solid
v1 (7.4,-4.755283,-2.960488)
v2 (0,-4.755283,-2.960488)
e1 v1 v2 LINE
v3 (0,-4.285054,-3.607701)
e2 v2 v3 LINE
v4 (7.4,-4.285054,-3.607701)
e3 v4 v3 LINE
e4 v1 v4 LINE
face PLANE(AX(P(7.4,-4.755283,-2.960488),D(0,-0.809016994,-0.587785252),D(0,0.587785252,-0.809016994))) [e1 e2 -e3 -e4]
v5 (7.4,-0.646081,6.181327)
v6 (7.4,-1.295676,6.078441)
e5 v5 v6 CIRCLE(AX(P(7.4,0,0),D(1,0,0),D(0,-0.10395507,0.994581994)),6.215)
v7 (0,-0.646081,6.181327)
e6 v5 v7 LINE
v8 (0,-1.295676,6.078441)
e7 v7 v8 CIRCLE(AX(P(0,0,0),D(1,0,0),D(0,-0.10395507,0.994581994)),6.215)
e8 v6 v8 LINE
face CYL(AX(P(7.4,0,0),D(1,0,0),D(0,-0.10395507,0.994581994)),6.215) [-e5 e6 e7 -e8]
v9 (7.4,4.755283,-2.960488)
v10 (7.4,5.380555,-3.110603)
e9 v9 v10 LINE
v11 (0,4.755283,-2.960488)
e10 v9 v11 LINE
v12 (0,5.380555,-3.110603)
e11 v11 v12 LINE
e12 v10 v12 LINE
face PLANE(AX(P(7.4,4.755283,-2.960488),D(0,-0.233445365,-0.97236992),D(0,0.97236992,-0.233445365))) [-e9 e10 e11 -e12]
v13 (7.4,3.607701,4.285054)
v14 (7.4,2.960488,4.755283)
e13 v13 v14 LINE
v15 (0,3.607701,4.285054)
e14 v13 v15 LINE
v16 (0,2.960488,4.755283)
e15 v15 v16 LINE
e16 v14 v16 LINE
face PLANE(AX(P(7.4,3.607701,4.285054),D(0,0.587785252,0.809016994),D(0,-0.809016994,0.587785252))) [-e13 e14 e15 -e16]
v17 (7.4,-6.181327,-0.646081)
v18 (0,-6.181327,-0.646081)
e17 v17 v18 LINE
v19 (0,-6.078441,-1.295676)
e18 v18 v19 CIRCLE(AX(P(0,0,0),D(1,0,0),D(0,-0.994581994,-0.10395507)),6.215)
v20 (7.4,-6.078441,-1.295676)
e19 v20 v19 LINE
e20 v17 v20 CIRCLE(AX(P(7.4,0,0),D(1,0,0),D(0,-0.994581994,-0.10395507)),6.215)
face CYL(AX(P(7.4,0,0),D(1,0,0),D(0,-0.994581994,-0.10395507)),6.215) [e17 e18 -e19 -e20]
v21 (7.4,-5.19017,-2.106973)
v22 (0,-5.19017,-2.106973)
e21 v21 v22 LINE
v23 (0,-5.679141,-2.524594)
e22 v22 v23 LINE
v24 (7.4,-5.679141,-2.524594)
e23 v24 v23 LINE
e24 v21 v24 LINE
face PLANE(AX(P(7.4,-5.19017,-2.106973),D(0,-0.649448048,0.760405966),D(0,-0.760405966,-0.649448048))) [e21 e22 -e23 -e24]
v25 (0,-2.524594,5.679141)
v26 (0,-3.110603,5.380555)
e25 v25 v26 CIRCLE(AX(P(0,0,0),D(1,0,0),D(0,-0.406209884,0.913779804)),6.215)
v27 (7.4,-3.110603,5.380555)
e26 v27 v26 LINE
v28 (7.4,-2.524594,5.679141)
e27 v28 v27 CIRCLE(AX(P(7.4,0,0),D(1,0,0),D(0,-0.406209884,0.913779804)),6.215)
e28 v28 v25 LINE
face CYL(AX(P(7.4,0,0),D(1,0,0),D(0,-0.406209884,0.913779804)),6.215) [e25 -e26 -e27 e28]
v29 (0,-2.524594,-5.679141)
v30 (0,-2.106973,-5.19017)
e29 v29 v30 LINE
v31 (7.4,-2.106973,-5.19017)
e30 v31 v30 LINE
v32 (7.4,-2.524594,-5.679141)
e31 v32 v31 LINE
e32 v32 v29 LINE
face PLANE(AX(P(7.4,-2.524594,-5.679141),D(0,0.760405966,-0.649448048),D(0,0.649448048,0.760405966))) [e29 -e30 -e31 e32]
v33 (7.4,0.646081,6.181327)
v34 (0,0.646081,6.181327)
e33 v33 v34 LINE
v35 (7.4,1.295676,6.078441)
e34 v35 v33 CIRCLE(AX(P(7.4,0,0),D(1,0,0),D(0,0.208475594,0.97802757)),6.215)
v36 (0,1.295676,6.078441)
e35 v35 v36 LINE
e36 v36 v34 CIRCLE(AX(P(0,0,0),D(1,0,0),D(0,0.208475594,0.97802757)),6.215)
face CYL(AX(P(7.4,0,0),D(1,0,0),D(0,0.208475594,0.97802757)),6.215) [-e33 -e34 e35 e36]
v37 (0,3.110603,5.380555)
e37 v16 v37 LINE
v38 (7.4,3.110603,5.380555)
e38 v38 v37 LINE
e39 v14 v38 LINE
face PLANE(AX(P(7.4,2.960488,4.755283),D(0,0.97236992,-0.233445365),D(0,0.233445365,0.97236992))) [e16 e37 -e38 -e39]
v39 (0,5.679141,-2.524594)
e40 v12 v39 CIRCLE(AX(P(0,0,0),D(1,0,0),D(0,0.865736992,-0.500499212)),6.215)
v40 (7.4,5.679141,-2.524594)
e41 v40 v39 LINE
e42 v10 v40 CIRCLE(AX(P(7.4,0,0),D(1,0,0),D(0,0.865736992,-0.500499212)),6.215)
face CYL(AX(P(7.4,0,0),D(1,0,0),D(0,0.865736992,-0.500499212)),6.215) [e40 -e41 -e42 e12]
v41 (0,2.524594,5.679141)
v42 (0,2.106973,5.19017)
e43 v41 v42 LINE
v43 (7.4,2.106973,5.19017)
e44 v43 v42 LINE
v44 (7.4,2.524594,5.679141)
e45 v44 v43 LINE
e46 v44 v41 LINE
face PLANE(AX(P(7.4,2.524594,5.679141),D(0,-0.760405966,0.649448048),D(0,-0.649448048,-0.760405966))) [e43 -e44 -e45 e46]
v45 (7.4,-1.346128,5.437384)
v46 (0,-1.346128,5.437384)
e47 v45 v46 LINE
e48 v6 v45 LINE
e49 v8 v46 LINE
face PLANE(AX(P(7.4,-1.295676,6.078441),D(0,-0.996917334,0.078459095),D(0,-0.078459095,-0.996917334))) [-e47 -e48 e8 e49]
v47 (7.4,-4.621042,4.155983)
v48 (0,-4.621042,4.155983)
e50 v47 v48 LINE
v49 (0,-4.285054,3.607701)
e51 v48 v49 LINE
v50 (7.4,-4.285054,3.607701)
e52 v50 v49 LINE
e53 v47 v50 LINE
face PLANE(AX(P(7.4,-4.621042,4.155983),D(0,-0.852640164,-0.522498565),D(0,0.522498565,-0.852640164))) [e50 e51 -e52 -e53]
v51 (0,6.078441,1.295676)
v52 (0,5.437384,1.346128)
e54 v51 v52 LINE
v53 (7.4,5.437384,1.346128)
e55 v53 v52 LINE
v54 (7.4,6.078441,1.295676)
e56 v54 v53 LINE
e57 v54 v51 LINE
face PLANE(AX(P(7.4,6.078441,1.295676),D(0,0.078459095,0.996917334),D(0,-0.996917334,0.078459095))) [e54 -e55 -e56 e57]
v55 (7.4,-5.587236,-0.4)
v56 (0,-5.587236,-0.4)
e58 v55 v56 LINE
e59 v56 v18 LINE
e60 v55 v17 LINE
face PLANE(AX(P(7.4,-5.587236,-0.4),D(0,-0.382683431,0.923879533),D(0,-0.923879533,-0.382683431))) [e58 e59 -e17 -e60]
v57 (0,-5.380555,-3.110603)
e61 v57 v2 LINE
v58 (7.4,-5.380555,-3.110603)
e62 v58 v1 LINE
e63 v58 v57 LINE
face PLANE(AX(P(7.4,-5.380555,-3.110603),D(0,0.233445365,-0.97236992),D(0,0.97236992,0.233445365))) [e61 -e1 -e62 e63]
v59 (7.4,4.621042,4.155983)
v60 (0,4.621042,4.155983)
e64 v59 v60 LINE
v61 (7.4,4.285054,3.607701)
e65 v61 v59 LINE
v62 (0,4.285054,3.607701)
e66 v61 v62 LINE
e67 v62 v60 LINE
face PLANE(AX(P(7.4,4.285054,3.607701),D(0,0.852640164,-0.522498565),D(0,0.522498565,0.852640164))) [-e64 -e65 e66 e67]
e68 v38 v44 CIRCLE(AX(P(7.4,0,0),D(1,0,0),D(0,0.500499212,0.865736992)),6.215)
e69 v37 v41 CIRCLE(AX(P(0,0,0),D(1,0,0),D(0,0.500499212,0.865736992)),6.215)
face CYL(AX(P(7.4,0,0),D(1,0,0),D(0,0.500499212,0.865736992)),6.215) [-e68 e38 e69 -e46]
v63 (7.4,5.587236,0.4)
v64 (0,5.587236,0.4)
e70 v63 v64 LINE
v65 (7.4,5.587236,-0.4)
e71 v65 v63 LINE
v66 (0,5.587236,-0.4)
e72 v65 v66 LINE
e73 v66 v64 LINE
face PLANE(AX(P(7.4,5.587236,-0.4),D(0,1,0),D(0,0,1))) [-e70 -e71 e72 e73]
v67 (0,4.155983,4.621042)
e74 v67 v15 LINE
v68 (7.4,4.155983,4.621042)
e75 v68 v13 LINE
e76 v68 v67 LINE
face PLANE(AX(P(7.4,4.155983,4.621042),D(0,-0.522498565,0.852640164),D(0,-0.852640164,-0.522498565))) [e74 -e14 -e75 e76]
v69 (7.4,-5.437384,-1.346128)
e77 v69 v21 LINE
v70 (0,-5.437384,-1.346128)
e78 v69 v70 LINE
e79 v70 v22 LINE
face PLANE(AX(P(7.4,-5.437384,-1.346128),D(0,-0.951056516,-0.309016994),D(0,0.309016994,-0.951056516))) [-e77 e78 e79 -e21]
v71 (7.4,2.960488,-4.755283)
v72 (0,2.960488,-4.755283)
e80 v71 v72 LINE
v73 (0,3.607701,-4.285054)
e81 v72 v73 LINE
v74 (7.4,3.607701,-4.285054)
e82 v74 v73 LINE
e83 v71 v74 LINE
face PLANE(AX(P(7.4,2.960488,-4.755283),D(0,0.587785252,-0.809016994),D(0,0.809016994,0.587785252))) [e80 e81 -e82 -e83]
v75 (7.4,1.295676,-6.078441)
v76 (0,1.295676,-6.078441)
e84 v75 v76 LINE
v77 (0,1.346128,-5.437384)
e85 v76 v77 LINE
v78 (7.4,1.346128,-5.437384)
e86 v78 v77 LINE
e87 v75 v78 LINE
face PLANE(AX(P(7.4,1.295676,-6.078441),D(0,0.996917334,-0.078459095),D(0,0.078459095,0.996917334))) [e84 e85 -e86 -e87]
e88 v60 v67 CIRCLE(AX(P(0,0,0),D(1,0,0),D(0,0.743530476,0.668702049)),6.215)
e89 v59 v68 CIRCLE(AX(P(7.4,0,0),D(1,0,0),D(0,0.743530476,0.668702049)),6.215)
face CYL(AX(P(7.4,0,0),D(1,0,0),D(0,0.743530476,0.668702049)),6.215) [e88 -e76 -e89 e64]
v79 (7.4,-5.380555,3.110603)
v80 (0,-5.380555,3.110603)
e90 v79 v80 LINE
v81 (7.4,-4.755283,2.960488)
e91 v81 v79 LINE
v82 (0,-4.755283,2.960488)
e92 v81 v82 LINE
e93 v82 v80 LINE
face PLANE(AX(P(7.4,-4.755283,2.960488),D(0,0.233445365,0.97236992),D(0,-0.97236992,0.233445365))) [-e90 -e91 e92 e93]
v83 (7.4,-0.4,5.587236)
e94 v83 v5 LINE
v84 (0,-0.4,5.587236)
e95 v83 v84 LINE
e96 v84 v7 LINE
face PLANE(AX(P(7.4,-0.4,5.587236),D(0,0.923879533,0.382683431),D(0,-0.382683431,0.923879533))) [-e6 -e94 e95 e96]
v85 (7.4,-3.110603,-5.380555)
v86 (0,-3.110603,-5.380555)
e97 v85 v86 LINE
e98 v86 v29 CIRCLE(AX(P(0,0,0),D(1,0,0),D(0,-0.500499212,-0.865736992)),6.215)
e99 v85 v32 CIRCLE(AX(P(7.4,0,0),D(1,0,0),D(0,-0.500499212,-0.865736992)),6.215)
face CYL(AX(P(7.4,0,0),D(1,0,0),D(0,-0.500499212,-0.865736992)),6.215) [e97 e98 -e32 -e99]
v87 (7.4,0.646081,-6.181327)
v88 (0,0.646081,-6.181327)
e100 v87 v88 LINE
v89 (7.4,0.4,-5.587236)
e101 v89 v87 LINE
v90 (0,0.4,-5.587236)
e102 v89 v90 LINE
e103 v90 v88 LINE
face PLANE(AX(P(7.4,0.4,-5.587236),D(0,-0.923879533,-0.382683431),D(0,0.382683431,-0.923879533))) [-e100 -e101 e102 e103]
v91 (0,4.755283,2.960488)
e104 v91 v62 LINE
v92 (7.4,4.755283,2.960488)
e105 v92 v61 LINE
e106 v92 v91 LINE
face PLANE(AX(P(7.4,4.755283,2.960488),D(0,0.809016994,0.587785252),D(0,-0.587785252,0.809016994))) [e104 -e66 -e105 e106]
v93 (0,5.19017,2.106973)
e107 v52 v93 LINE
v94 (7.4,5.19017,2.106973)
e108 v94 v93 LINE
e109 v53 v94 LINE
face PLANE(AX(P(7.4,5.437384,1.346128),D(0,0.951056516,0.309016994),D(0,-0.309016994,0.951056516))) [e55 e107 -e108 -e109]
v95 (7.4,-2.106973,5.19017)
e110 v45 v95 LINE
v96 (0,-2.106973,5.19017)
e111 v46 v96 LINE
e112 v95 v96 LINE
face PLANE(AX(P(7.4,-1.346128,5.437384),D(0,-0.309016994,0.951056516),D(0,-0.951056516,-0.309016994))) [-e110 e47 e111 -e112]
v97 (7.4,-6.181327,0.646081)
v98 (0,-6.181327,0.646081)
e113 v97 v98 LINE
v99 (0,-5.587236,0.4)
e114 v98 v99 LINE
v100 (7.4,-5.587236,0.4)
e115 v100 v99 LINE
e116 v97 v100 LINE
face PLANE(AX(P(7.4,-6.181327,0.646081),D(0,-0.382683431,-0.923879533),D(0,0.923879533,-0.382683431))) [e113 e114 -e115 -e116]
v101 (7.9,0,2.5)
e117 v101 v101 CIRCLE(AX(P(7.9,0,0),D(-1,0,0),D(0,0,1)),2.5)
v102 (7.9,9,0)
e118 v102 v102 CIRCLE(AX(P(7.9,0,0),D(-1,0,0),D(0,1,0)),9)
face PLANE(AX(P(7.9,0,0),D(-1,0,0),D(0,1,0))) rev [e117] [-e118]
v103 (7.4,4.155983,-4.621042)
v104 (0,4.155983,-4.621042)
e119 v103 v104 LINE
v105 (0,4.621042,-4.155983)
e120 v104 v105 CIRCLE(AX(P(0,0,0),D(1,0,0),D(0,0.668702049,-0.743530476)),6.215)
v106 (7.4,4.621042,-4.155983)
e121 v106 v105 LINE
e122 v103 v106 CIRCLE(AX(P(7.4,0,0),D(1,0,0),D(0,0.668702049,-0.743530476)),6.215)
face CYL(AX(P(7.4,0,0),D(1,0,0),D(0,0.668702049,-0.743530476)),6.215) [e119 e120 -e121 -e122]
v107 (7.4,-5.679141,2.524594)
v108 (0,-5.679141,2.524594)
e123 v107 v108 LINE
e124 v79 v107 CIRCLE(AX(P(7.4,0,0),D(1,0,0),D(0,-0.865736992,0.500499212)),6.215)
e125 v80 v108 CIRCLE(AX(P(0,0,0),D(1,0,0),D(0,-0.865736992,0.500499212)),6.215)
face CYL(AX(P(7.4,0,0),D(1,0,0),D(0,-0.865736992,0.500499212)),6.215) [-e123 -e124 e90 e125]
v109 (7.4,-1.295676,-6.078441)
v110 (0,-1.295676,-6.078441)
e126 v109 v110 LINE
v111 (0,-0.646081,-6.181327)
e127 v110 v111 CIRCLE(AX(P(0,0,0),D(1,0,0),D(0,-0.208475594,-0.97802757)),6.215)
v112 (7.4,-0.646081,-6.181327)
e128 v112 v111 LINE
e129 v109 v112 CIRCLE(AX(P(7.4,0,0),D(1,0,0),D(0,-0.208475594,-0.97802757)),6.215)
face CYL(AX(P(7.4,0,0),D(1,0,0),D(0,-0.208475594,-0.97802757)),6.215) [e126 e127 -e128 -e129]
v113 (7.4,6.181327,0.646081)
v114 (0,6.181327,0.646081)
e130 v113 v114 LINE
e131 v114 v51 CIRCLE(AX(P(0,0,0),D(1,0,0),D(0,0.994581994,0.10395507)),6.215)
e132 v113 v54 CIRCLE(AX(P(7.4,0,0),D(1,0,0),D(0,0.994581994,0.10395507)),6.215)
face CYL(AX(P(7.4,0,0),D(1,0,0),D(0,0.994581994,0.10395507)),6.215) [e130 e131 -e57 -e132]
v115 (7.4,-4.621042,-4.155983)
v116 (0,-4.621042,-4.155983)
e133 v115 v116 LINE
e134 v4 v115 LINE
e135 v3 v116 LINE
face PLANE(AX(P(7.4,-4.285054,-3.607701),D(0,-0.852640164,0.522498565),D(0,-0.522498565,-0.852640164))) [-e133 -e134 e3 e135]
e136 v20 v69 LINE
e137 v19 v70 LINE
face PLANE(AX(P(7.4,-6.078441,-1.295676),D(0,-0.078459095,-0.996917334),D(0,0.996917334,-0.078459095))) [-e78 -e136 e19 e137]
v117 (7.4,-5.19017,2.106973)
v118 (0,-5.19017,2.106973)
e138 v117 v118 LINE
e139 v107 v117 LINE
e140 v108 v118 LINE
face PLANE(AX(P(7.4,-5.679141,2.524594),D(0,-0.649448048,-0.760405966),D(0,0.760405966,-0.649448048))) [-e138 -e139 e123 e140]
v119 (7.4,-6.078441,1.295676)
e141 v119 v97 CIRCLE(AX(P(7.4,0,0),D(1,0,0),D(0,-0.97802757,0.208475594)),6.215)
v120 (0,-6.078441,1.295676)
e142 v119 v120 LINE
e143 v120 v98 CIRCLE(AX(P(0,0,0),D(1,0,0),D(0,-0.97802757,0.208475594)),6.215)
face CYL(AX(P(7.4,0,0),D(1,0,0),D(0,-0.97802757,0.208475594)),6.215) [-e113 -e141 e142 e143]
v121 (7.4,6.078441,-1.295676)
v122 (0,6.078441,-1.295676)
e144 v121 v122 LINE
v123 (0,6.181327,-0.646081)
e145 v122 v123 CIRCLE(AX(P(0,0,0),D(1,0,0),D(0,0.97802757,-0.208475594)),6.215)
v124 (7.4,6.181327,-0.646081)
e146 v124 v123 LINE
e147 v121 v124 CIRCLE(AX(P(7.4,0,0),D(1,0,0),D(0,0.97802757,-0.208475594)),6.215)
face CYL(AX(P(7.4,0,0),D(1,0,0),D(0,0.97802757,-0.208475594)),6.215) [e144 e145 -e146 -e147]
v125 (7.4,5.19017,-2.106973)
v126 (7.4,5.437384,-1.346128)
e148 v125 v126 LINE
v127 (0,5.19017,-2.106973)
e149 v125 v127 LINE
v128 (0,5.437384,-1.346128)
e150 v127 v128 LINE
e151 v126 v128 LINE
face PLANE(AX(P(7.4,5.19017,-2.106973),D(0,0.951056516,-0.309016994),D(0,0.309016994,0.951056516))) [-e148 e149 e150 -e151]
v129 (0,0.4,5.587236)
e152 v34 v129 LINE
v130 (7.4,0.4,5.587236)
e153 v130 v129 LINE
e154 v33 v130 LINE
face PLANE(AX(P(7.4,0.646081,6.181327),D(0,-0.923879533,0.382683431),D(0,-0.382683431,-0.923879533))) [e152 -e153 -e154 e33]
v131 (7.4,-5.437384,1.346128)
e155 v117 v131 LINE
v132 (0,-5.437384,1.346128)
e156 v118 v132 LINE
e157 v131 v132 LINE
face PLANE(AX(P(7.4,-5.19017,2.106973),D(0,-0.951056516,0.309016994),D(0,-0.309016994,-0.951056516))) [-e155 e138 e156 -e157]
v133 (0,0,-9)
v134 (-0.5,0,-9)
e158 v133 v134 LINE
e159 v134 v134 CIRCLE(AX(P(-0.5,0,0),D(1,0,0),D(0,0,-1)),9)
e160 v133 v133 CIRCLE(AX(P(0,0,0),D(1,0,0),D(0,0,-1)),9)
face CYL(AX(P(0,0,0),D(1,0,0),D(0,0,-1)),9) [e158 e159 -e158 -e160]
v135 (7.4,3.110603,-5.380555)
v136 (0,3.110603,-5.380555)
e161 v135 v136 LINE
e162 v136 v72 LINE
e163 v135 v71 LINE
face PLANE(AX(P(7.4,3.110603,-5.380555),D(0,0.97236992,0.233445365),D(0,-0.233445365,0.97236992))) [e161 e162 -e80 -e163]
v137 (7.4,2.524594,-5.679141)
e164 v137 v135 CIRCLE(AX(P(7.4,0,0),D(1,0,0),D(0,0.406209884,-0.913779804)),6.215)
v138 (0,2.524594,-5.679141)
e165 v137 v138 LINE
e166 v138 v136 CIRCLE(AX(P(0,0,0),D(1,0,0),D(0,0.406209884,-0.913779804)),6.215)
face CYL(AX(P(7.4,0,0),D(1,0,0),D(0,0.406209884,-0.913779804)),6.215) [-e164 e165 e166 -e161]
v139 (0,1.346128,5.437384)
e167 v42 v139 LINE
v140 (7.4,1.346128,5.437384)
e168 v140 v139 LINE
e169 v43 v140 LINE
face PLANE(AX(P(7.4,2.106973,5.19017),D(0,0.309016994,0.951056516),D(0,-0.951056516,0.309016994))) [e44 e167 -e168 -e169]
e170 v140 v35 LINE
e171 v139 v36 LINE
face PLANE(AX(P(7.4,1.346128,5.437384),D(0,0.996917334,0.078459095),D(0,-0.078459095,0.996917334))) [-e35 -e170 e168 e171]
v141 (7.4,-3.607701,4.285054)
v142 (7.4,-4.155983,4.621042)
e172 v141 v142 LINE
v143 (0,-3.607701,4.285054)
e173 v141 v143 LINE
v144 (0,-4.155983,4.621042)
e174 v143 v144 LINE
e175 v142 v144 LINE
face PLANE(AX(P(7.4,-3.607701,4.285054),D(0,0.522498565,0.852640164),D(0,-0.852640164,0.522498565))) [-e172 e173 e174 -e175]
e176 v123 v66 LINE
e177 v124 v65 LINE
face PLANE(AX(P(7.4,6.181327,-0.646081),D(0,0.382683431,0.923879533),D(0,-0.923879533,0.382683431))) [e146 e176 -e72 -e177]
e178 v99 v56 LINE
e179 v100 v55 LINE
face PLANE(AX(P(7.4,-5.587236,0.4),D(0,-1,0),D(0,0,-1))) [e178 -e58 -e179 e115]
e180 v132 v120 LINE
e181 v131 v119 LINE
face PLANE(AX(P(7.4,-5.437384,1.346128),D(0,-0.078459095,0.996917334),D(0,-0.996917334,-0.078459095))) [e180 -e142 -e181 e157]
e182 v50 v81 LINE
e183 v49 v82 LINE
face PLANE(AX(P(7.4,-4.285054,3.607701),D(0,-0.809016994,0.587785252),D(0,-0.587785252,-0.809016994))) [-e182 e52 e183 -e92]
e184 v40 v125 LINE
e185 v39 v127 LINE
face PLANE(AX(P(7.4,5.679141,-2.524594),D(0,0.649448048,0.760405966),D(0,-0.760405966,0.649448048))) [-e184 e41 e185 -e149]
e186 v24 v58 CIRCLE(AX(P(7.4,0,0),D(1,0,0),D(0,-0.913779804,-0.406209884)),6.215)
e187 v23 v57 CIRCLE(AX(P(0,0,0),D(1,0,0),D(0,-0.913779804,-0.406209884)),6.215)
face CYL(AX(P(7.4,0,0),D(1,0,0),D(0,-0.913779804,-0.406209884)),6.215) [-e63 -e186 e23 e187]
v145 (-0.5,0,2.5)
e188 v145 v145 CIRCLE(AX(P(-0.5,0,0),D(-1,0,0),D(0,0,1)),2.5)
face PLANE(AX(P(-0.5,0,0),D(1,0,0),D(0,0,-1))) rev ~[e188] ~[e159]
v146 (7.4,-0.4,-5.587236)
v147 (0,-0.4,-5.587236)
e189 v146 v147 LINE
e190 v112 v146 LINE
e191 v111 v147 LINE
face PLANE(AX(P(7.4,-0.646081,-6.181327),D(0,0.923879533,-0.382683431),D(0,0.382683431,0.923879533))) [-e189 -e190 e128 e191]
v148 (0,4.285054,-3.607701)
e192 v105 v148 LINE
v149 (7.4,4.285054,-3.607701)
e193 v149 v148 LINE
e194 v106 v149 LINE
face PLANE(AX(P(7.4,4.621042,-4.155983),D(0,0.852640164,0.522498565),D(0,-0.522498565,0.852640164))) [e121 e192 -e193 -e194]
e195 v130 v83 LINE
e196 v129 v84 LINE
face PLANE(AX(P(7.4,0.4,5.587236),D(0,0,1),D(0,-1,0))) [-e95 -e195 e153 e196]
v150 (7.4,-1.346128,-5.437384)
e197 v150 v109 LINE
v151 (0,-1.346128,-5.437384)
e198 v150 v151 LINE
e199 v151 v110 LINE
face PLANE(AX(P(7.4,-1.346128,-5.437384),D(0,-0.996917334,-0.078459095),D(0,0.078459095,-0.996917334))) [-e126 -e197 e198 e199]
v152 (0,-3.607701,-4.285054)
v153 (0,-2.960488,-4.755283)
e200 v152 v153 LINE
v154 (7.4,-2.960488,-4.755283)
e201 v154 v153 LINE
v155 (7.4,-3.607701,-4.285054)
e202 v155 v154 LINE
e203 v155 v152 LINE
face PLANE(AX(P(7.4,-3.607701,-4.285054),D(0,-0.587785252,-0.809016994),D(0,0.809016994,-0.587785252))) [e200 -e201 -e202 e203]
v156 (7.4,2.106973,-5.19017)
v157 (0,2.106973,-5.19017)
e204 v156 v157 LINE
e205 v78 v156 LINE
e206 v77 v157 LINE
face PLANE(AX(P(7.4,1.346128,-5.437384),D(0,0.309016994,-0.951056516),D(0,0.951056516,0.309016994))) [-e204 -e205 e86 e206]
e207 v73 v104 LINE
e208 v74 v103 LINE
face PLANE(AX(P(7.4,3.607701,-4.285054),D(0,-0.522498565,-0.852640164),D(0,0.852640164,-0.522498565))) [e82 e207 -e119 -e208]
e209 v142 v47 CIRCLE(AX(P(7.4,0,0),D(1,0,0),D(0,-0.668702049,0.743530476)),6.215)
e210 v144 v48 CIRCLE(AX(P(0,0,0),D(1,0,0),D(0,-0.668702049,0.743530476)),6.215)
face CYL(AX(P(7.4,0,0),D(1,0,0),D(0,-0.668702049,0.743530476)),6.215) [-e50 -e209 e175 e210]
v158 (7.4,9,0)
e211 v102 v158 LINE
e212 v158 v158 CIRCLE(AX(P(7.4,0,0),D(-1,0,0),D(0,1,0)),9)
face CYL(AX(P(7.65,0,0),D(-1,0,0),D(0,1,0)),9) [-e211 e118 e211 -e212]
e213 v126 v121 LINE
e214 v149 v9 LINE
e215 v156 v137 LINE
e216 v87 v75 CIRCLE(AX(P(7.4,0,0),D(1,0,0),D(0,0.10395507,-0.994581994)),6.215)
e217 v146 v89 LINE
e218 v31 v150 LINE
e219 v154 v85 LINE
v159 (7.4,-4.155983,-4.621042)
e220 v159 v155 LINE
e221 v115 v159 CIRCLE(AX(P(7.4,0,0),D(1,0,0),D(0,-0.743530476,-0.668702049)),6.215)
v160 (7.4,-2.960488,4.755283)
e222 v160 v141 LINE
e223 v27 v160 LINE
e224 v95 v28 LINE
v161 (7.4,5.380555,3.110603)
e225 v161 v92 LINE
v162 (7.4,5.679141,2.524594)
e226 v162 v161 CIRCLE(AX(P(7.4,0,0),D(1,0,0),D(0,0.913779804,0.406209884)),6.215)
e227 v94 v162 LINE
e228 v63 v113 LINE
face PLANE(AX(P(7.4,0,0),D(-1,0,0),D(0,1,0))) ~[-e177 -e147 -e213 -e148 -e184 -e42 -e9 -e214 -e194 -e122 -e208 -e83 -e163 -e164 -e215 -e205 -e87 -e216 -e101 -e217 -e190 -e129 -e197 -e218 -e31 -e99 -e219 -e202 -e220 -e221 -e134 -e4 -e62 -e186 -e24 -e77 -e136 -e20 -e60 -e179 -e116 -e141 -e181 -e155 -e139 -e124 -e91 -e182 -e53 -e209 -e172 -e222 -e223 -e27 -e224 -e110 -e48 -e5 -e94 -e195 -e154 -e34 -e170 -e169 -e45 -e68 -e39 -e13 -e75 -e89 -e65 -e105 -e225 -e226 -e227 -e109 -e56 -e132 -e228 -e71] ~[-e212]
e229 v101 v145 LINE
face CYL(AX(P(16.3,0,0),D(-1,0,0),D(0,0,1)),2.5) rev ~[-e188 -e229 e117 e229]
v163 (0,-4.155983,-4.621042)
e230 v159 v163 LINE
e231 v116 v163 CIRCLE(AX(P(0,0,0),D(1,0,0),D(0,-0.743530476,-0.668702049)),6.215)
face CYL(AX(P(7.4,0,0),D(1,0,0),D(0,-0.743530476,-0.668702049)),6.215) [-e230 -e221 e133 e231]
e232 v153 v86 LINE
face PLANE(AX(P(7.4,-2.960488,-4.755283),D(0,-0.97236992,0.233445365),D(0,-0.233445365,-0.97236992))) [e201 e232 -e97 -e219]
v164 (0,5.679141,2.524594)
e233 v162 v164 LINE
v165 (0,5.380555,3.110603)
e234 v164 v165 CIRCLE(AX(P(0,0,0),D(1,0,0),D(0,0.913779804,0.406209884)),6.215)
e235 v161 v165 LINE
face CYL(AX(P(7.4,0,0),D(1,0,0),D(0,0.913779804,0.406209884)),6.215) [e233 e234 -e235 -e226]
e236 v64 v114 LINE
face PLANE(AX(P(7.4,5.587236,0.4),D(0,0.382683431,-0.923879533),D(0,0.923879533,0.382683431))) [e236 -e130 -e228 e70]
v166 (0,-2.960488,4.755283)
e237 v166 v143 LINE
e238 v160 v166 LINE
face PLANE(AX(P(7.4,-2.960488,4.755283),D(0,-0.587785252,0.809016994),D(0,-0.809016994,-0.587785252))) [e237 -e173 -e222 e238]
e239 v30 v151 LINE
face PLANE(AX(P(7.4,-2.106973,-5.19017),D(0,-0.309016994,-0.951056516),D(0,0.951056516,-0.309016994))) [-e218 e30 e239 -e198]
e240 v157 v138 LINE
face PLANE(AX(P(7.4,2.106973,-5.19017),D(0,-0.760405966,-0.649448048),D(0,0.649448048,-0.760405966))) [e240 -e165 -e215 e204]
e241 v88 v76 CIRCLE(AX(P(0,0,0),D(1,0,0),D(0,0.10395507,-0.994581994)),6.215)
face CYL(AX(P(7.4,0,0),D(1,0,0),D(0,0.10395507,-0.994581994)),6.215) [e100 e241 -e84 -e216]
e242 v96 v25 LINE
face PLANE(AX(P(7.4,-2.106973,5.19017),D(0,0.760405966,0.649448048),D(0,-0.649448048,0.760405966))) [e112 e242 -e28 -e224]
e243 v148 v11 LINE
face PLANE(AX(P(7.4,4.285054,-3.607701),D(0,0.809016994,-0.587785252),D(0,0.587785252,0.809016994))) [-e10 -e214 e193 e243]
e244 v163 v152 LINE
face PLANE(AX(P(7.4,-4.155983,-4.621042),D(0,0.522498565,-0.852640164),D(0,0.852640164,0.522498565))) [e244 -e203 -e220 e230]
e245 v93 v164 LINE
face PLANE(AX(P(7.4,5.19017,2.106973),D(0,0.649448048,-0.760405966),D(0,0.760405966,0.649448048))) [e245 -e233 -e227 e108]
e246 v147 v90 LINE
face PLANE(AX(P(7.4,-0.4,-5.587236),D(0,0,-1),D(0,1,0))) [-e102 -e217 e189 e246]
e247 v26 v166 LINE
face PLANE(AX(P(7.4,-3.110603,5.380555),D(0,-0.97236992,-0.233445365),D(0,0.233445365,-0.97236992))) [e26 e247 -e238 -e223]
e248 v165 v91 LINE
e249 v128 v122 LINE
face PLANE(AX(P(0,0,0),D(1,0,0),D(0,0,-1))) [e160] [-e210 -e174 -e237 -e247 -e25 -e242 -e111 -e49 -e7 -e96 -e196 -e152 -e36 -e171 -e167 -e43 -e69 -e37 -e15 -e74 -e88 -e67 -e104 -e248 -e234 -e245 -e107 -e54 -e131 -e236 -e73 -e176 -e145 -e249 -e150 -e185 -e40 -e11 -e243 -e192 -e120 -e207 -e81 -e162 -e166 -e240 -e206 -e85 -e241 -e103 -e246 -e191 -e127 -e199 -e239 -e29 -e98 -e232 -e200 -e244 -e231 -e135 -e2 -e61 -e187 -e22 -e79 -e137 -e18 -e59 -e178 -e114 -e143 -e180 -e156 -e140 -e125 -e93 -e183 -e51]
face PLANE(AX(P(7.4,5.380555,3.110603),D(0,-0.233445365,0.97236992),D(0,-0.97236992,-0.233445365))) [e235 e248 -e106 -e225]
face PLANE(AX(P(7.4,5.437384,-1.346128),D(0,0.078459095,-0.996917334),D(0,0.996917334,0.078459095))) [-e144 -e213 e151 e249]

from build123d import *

# Parameters (mm, degrees)
SKETCH1_W                    = 0.5
SKETCH1_H                    = 9
BOSS_EXTRUDE1_DEPTH          = 7.4
SKETCH3_R                    = 9
BOSS_EXTRUDE2_DEPTH          = 0.5
F_5_0_5_DIAMETER_HOLE1_D     = 5
F_5_0_5_DIAMETER_HOLE1_DEPTH = 8.4


with BuildPart() as part:
    # Sketch1 → Revolve1 (revolve)
    with BuildSketch(Plane(origin=(0, 0, 0), x_dir=(-1, 0, 0), z_dir=(0, 0, -1))):
        with Locations((-7.65, 4.5)):
            Rectangle(SKETCH1_W, SKETCH1_H)
    revolve(axis=Axis((7.9, 0, 0), (-1, 0, 0)))

    # Sketch2 → Boss-Extrude1 (add)
    with BuildSketch(Plane.ZY.offset(-7.4)):
        with BuildLine():
            Line((6.078441347, -1.295675803), (5.437383609, -1.346128141))
            Line((5.437383609, -1.346128141), (5.190170014, -2.106973354))
            Line((5.190170014, -2.106973354), (5.679141478, -2.524594437))
            ThreePointArc((5.679141478, -2.524594437), (5.537605548, -2.821550956), (5.38055541, -3.110602591))
            Line((5.38055541, -3.110602591), (4.755282641, -2.96048788))
            Line((4.755282641, -2.96048788), (4.285054439, -3.607701476))
            Line((4.285054439, -3.607701476), (4.621041925, -4.155983221))
            ThreePointArc((4.621041925, -4.155983221), (4.394668645, -4.394668645), (4.155983221, -4.621041925))
            Line((4.155983221, -4.621041925), (3.607701476, -4.285054439))
            Line((3.607701476, -4.285054439), (2.96048788, -4.755282641))
            Line((2.96048788, -4.755282641), (3.110602591, -5.38055541))
            ThreePointArc((3.110602591, -5.38055541), (2.821550956, -5.537605548), (2.524594437, -5.679141478))
            Line((2.524594437, -5.679141478), (2.106973354, -5.190170014))
            Line((2.106973354, -5.190170014), (1.346128141, -5.437383609))
            Line((1.346128141, -5.437383609), (1.295675803, -6.078441347))
            ThreePointArc((1.295675803, -6.078441347), (0.9722402, -6.138483037), (0.64608076, -6.181327095))
            Line((0.64608076, -6.181327095), (0.4, -5.587235585))
            Line((0.4, -5.587235585), (-0.4, -5.587235585))
            Line((-0.4, -5.587235585), (-0.64608076, -6.181327095))
            ThreePointArc((-0.64608076, -6.181327095), (-0.9722402, -6.138483037), (-1.295675803, -6.078441347))
            Line((-1.295675803, -6.078441347), (-1.346128141, -5.437383609))
            Line((-1.346128141, -5.437383609), (-2.106973354, -5.190170014))
            Line((-2.106973354, -5.190170014), (-2.524594437, -5.679141478))
            ThreePointArc((-2.524594437, -5.679141478), (-2.821550956, -5.537605548), (-3.110602591, -5.38055541))
            Line((-3.110602591, -5.38055541), (-2.96048788, -4.755282641))
            Line((-2.96048788, -4.755282641), (-3.607701476, -4.285054439))
            Line((-3.607701476, -4.285054439), (-4.155983221, -4.621041925))
            ThreePointArc((-4.155983221, -4.621041925), (-4.394668645, -4.394668645), (-4.621041925, -4.155983221))
            Line((-4.621041925, -4.155983221), (-4.285054439, -3.607701476))
            Line((-4.285054439, -3.607701476), (-4.755282641, -2.96048788))
            Line((-4.755282641, -2.96048788), (-5.38055541, -3.110602591))
            ThreePointArc((-5.38055541, -3.110602591), (-5.537605548, -2.821550956), (-5.679141478, -2.524594437))
            Line((-5.679141478, -2.524594437), (-5.190170014, -2.106973354))
            Line((-5.190170014, -2.106973354), (-5.437383609, -1.346128141))
            Line((-5.437383609, -1.346128141), (-6.078441347, -1.295675803))
            ThreePointArc((-6.078441347, -1.295675803), (-6.138483037, -0.9722402), (-6.181327095, -0.64608076))
            Line((-6.181327095, -0.64608076), (-5.587235585, -0.4))
            Line((-5.587235585, -0.4), (-5.587235585, 0.4))
            Line((-5.587235585, 0.4), (-6.181327095, 0.64608076))
            ThreePointArc((-6.181327095, 0.64608076), (-6.138483037, 0.9722402), (-6.078441347, 1.295675803))
            Line((-6.078441347, 1.295675803), (-5.437383609, 1.346128141))
            Line((-5.437383609, 1.346128141), (-5.190170014, 2.106973354))
            Line((-5.190170014, 2.106973354), (-5.679141478, 2.524594437))
            ThreePointArc((-5.679141478, 2.524594437), (-5.537605548, 2.821550956), (-5.38055541, 3.110602591))
            Line((-5.38055541, 3.110602591), (-4.755282641, 2.96048788))
            Line((-4.755282641, 2.96048788), (-4.285054439, 3.607701476))
            Line((-4.285054439, 3.607701476), (-4.621041925, 4.155983221))
            ThreePointArc((-4.621041925, 4.155983221), (-4.394668645, 4.394668645), (-4.155983221, 4.621041925))
            Line((-4.155983221, 4.621041925), (-3.607701476, 4.285054439))
            Line((-3.607701476, 4.285054439), (-2.96048788, 4.755282641))
            Line((-2.96048788, 4.755282641), (-3.110602591, 5.38055541))
            ThreePointArc((-3.110602591, 5.38055541), (-2.821550956, 5.537605548), (-2.524594437, 5.679141478))
            Line((-2.524594437, 5.679141478), (-2.106973354, 5.190170014))
            Line((-2.106973354, 5.190170014), (-1.346128141, 5.437383609))
            Line((-1.346128141, 5.437383609), (-1.295675803, 6.078441347))
            ThreePointArc((-1.295675803, 6.078441347), (-0.9722402, 6.138483037), (-0.64608076, 6.181327095))
            Line((-0.64608076, 6.181327095), (-0.4, 5.587235585))
            Line((-0.4, 5.587235585), (0.4, 5.587235585))
            Line((0.4, 5.587235585), (0.64608076, 6.181327095))
            ThreePointArc((0.64608076, 6.181327095), (0.9722402, 6.138483037), (1.295675803, 6.078441347))
            Line((1.295675803, 6.078441347), (1.346128141, 5.437383609))
            Line((1.346128141, 5.437383609), (2.106973354, 5.190170014))
            Line((2.106973354, 5.190170014), (2.524594437, 5.679141478))
            ThreePointArc((2.524594437, 5.679141478), (2.821550956, 5.537605548), (3.110602591, 5.38055541))
            Line((3.110602591, 5.38055541), (2.96048788, 4.755282641))
            Line((2.96048788, 4.755282641), (3.607701476, 4.285054439))
            Line((3.607701476, 4.285054439), (4.155983221, 4.621041925))
            ThreePointArc((4.155983221, 4.621041925), (4.394668645, 4.394668645), (4.621041925, 4.155983221))
            Line((4.621041925, 4.155983221), (4.285054439, 3.607701476))
            Line((4.285054439, 3.607701476), (4.755282641, 2.96048788))
            Line((4.755282641, 2.96048788), (5.38055541, 3.110602591))
            ThreePointArc((5.38055541, 3.110602591), (5.537605548, 2.821550956), (5.679141478, 2.524594437))
            Line((5.679141478, 2.524594437), (5.190170014, 2.106973354))
            Line((5.190170014, 2.106973354), (5.437383609, 1.346128141))
            Line((5.437383609, 1.346128141), (6.078441347, 1.295675803))
            ThreePointArc((6.078441347, 1.295675803), (6.138483037, 0.9722402), (6.181327095, 0.64608076))
            Line((6.181327095, 0.64608076), (5.587235585, 0.4))
            Line((5.587235585, 0.4), (5.587235585, -0.4))
            Line((5.587235585, -0.4), (6.181327095, -0.64608076))
            ThreePointArc((6.181327095, -0.64608076), (6.138483037, -0.9722402), (6.078441347, -1.295675803))
        make_face()
    extrude(amount=BOSS_EXTRUDE1_DEPTH)

    # Sketch3 → Boss-Extrude2 (add)
    with BuildSketch(Plane(origin=(0, 0, 0), x_dir=(0, 0, -1), z_dir=(1, 0, 0))):
        Circle(SKETCH3_R)
    extrude(amount=-BOSS_EXTRUDE2_DEPTH)

    # Ø5.0 (5) Diameter Hole1
    with Locations(Plane(origin=(7.9, 0, 0), x_dir=(0, 0, -1), z_dir=(1, 0, 0))):
        with Locations((0, 0)):
            Hole(F_5_0_5_DIAMETER_HOLE1_D / 2, depth=F_5_0_5_DIAMETER_HOLE1_DEPTH)


solid = part.part
